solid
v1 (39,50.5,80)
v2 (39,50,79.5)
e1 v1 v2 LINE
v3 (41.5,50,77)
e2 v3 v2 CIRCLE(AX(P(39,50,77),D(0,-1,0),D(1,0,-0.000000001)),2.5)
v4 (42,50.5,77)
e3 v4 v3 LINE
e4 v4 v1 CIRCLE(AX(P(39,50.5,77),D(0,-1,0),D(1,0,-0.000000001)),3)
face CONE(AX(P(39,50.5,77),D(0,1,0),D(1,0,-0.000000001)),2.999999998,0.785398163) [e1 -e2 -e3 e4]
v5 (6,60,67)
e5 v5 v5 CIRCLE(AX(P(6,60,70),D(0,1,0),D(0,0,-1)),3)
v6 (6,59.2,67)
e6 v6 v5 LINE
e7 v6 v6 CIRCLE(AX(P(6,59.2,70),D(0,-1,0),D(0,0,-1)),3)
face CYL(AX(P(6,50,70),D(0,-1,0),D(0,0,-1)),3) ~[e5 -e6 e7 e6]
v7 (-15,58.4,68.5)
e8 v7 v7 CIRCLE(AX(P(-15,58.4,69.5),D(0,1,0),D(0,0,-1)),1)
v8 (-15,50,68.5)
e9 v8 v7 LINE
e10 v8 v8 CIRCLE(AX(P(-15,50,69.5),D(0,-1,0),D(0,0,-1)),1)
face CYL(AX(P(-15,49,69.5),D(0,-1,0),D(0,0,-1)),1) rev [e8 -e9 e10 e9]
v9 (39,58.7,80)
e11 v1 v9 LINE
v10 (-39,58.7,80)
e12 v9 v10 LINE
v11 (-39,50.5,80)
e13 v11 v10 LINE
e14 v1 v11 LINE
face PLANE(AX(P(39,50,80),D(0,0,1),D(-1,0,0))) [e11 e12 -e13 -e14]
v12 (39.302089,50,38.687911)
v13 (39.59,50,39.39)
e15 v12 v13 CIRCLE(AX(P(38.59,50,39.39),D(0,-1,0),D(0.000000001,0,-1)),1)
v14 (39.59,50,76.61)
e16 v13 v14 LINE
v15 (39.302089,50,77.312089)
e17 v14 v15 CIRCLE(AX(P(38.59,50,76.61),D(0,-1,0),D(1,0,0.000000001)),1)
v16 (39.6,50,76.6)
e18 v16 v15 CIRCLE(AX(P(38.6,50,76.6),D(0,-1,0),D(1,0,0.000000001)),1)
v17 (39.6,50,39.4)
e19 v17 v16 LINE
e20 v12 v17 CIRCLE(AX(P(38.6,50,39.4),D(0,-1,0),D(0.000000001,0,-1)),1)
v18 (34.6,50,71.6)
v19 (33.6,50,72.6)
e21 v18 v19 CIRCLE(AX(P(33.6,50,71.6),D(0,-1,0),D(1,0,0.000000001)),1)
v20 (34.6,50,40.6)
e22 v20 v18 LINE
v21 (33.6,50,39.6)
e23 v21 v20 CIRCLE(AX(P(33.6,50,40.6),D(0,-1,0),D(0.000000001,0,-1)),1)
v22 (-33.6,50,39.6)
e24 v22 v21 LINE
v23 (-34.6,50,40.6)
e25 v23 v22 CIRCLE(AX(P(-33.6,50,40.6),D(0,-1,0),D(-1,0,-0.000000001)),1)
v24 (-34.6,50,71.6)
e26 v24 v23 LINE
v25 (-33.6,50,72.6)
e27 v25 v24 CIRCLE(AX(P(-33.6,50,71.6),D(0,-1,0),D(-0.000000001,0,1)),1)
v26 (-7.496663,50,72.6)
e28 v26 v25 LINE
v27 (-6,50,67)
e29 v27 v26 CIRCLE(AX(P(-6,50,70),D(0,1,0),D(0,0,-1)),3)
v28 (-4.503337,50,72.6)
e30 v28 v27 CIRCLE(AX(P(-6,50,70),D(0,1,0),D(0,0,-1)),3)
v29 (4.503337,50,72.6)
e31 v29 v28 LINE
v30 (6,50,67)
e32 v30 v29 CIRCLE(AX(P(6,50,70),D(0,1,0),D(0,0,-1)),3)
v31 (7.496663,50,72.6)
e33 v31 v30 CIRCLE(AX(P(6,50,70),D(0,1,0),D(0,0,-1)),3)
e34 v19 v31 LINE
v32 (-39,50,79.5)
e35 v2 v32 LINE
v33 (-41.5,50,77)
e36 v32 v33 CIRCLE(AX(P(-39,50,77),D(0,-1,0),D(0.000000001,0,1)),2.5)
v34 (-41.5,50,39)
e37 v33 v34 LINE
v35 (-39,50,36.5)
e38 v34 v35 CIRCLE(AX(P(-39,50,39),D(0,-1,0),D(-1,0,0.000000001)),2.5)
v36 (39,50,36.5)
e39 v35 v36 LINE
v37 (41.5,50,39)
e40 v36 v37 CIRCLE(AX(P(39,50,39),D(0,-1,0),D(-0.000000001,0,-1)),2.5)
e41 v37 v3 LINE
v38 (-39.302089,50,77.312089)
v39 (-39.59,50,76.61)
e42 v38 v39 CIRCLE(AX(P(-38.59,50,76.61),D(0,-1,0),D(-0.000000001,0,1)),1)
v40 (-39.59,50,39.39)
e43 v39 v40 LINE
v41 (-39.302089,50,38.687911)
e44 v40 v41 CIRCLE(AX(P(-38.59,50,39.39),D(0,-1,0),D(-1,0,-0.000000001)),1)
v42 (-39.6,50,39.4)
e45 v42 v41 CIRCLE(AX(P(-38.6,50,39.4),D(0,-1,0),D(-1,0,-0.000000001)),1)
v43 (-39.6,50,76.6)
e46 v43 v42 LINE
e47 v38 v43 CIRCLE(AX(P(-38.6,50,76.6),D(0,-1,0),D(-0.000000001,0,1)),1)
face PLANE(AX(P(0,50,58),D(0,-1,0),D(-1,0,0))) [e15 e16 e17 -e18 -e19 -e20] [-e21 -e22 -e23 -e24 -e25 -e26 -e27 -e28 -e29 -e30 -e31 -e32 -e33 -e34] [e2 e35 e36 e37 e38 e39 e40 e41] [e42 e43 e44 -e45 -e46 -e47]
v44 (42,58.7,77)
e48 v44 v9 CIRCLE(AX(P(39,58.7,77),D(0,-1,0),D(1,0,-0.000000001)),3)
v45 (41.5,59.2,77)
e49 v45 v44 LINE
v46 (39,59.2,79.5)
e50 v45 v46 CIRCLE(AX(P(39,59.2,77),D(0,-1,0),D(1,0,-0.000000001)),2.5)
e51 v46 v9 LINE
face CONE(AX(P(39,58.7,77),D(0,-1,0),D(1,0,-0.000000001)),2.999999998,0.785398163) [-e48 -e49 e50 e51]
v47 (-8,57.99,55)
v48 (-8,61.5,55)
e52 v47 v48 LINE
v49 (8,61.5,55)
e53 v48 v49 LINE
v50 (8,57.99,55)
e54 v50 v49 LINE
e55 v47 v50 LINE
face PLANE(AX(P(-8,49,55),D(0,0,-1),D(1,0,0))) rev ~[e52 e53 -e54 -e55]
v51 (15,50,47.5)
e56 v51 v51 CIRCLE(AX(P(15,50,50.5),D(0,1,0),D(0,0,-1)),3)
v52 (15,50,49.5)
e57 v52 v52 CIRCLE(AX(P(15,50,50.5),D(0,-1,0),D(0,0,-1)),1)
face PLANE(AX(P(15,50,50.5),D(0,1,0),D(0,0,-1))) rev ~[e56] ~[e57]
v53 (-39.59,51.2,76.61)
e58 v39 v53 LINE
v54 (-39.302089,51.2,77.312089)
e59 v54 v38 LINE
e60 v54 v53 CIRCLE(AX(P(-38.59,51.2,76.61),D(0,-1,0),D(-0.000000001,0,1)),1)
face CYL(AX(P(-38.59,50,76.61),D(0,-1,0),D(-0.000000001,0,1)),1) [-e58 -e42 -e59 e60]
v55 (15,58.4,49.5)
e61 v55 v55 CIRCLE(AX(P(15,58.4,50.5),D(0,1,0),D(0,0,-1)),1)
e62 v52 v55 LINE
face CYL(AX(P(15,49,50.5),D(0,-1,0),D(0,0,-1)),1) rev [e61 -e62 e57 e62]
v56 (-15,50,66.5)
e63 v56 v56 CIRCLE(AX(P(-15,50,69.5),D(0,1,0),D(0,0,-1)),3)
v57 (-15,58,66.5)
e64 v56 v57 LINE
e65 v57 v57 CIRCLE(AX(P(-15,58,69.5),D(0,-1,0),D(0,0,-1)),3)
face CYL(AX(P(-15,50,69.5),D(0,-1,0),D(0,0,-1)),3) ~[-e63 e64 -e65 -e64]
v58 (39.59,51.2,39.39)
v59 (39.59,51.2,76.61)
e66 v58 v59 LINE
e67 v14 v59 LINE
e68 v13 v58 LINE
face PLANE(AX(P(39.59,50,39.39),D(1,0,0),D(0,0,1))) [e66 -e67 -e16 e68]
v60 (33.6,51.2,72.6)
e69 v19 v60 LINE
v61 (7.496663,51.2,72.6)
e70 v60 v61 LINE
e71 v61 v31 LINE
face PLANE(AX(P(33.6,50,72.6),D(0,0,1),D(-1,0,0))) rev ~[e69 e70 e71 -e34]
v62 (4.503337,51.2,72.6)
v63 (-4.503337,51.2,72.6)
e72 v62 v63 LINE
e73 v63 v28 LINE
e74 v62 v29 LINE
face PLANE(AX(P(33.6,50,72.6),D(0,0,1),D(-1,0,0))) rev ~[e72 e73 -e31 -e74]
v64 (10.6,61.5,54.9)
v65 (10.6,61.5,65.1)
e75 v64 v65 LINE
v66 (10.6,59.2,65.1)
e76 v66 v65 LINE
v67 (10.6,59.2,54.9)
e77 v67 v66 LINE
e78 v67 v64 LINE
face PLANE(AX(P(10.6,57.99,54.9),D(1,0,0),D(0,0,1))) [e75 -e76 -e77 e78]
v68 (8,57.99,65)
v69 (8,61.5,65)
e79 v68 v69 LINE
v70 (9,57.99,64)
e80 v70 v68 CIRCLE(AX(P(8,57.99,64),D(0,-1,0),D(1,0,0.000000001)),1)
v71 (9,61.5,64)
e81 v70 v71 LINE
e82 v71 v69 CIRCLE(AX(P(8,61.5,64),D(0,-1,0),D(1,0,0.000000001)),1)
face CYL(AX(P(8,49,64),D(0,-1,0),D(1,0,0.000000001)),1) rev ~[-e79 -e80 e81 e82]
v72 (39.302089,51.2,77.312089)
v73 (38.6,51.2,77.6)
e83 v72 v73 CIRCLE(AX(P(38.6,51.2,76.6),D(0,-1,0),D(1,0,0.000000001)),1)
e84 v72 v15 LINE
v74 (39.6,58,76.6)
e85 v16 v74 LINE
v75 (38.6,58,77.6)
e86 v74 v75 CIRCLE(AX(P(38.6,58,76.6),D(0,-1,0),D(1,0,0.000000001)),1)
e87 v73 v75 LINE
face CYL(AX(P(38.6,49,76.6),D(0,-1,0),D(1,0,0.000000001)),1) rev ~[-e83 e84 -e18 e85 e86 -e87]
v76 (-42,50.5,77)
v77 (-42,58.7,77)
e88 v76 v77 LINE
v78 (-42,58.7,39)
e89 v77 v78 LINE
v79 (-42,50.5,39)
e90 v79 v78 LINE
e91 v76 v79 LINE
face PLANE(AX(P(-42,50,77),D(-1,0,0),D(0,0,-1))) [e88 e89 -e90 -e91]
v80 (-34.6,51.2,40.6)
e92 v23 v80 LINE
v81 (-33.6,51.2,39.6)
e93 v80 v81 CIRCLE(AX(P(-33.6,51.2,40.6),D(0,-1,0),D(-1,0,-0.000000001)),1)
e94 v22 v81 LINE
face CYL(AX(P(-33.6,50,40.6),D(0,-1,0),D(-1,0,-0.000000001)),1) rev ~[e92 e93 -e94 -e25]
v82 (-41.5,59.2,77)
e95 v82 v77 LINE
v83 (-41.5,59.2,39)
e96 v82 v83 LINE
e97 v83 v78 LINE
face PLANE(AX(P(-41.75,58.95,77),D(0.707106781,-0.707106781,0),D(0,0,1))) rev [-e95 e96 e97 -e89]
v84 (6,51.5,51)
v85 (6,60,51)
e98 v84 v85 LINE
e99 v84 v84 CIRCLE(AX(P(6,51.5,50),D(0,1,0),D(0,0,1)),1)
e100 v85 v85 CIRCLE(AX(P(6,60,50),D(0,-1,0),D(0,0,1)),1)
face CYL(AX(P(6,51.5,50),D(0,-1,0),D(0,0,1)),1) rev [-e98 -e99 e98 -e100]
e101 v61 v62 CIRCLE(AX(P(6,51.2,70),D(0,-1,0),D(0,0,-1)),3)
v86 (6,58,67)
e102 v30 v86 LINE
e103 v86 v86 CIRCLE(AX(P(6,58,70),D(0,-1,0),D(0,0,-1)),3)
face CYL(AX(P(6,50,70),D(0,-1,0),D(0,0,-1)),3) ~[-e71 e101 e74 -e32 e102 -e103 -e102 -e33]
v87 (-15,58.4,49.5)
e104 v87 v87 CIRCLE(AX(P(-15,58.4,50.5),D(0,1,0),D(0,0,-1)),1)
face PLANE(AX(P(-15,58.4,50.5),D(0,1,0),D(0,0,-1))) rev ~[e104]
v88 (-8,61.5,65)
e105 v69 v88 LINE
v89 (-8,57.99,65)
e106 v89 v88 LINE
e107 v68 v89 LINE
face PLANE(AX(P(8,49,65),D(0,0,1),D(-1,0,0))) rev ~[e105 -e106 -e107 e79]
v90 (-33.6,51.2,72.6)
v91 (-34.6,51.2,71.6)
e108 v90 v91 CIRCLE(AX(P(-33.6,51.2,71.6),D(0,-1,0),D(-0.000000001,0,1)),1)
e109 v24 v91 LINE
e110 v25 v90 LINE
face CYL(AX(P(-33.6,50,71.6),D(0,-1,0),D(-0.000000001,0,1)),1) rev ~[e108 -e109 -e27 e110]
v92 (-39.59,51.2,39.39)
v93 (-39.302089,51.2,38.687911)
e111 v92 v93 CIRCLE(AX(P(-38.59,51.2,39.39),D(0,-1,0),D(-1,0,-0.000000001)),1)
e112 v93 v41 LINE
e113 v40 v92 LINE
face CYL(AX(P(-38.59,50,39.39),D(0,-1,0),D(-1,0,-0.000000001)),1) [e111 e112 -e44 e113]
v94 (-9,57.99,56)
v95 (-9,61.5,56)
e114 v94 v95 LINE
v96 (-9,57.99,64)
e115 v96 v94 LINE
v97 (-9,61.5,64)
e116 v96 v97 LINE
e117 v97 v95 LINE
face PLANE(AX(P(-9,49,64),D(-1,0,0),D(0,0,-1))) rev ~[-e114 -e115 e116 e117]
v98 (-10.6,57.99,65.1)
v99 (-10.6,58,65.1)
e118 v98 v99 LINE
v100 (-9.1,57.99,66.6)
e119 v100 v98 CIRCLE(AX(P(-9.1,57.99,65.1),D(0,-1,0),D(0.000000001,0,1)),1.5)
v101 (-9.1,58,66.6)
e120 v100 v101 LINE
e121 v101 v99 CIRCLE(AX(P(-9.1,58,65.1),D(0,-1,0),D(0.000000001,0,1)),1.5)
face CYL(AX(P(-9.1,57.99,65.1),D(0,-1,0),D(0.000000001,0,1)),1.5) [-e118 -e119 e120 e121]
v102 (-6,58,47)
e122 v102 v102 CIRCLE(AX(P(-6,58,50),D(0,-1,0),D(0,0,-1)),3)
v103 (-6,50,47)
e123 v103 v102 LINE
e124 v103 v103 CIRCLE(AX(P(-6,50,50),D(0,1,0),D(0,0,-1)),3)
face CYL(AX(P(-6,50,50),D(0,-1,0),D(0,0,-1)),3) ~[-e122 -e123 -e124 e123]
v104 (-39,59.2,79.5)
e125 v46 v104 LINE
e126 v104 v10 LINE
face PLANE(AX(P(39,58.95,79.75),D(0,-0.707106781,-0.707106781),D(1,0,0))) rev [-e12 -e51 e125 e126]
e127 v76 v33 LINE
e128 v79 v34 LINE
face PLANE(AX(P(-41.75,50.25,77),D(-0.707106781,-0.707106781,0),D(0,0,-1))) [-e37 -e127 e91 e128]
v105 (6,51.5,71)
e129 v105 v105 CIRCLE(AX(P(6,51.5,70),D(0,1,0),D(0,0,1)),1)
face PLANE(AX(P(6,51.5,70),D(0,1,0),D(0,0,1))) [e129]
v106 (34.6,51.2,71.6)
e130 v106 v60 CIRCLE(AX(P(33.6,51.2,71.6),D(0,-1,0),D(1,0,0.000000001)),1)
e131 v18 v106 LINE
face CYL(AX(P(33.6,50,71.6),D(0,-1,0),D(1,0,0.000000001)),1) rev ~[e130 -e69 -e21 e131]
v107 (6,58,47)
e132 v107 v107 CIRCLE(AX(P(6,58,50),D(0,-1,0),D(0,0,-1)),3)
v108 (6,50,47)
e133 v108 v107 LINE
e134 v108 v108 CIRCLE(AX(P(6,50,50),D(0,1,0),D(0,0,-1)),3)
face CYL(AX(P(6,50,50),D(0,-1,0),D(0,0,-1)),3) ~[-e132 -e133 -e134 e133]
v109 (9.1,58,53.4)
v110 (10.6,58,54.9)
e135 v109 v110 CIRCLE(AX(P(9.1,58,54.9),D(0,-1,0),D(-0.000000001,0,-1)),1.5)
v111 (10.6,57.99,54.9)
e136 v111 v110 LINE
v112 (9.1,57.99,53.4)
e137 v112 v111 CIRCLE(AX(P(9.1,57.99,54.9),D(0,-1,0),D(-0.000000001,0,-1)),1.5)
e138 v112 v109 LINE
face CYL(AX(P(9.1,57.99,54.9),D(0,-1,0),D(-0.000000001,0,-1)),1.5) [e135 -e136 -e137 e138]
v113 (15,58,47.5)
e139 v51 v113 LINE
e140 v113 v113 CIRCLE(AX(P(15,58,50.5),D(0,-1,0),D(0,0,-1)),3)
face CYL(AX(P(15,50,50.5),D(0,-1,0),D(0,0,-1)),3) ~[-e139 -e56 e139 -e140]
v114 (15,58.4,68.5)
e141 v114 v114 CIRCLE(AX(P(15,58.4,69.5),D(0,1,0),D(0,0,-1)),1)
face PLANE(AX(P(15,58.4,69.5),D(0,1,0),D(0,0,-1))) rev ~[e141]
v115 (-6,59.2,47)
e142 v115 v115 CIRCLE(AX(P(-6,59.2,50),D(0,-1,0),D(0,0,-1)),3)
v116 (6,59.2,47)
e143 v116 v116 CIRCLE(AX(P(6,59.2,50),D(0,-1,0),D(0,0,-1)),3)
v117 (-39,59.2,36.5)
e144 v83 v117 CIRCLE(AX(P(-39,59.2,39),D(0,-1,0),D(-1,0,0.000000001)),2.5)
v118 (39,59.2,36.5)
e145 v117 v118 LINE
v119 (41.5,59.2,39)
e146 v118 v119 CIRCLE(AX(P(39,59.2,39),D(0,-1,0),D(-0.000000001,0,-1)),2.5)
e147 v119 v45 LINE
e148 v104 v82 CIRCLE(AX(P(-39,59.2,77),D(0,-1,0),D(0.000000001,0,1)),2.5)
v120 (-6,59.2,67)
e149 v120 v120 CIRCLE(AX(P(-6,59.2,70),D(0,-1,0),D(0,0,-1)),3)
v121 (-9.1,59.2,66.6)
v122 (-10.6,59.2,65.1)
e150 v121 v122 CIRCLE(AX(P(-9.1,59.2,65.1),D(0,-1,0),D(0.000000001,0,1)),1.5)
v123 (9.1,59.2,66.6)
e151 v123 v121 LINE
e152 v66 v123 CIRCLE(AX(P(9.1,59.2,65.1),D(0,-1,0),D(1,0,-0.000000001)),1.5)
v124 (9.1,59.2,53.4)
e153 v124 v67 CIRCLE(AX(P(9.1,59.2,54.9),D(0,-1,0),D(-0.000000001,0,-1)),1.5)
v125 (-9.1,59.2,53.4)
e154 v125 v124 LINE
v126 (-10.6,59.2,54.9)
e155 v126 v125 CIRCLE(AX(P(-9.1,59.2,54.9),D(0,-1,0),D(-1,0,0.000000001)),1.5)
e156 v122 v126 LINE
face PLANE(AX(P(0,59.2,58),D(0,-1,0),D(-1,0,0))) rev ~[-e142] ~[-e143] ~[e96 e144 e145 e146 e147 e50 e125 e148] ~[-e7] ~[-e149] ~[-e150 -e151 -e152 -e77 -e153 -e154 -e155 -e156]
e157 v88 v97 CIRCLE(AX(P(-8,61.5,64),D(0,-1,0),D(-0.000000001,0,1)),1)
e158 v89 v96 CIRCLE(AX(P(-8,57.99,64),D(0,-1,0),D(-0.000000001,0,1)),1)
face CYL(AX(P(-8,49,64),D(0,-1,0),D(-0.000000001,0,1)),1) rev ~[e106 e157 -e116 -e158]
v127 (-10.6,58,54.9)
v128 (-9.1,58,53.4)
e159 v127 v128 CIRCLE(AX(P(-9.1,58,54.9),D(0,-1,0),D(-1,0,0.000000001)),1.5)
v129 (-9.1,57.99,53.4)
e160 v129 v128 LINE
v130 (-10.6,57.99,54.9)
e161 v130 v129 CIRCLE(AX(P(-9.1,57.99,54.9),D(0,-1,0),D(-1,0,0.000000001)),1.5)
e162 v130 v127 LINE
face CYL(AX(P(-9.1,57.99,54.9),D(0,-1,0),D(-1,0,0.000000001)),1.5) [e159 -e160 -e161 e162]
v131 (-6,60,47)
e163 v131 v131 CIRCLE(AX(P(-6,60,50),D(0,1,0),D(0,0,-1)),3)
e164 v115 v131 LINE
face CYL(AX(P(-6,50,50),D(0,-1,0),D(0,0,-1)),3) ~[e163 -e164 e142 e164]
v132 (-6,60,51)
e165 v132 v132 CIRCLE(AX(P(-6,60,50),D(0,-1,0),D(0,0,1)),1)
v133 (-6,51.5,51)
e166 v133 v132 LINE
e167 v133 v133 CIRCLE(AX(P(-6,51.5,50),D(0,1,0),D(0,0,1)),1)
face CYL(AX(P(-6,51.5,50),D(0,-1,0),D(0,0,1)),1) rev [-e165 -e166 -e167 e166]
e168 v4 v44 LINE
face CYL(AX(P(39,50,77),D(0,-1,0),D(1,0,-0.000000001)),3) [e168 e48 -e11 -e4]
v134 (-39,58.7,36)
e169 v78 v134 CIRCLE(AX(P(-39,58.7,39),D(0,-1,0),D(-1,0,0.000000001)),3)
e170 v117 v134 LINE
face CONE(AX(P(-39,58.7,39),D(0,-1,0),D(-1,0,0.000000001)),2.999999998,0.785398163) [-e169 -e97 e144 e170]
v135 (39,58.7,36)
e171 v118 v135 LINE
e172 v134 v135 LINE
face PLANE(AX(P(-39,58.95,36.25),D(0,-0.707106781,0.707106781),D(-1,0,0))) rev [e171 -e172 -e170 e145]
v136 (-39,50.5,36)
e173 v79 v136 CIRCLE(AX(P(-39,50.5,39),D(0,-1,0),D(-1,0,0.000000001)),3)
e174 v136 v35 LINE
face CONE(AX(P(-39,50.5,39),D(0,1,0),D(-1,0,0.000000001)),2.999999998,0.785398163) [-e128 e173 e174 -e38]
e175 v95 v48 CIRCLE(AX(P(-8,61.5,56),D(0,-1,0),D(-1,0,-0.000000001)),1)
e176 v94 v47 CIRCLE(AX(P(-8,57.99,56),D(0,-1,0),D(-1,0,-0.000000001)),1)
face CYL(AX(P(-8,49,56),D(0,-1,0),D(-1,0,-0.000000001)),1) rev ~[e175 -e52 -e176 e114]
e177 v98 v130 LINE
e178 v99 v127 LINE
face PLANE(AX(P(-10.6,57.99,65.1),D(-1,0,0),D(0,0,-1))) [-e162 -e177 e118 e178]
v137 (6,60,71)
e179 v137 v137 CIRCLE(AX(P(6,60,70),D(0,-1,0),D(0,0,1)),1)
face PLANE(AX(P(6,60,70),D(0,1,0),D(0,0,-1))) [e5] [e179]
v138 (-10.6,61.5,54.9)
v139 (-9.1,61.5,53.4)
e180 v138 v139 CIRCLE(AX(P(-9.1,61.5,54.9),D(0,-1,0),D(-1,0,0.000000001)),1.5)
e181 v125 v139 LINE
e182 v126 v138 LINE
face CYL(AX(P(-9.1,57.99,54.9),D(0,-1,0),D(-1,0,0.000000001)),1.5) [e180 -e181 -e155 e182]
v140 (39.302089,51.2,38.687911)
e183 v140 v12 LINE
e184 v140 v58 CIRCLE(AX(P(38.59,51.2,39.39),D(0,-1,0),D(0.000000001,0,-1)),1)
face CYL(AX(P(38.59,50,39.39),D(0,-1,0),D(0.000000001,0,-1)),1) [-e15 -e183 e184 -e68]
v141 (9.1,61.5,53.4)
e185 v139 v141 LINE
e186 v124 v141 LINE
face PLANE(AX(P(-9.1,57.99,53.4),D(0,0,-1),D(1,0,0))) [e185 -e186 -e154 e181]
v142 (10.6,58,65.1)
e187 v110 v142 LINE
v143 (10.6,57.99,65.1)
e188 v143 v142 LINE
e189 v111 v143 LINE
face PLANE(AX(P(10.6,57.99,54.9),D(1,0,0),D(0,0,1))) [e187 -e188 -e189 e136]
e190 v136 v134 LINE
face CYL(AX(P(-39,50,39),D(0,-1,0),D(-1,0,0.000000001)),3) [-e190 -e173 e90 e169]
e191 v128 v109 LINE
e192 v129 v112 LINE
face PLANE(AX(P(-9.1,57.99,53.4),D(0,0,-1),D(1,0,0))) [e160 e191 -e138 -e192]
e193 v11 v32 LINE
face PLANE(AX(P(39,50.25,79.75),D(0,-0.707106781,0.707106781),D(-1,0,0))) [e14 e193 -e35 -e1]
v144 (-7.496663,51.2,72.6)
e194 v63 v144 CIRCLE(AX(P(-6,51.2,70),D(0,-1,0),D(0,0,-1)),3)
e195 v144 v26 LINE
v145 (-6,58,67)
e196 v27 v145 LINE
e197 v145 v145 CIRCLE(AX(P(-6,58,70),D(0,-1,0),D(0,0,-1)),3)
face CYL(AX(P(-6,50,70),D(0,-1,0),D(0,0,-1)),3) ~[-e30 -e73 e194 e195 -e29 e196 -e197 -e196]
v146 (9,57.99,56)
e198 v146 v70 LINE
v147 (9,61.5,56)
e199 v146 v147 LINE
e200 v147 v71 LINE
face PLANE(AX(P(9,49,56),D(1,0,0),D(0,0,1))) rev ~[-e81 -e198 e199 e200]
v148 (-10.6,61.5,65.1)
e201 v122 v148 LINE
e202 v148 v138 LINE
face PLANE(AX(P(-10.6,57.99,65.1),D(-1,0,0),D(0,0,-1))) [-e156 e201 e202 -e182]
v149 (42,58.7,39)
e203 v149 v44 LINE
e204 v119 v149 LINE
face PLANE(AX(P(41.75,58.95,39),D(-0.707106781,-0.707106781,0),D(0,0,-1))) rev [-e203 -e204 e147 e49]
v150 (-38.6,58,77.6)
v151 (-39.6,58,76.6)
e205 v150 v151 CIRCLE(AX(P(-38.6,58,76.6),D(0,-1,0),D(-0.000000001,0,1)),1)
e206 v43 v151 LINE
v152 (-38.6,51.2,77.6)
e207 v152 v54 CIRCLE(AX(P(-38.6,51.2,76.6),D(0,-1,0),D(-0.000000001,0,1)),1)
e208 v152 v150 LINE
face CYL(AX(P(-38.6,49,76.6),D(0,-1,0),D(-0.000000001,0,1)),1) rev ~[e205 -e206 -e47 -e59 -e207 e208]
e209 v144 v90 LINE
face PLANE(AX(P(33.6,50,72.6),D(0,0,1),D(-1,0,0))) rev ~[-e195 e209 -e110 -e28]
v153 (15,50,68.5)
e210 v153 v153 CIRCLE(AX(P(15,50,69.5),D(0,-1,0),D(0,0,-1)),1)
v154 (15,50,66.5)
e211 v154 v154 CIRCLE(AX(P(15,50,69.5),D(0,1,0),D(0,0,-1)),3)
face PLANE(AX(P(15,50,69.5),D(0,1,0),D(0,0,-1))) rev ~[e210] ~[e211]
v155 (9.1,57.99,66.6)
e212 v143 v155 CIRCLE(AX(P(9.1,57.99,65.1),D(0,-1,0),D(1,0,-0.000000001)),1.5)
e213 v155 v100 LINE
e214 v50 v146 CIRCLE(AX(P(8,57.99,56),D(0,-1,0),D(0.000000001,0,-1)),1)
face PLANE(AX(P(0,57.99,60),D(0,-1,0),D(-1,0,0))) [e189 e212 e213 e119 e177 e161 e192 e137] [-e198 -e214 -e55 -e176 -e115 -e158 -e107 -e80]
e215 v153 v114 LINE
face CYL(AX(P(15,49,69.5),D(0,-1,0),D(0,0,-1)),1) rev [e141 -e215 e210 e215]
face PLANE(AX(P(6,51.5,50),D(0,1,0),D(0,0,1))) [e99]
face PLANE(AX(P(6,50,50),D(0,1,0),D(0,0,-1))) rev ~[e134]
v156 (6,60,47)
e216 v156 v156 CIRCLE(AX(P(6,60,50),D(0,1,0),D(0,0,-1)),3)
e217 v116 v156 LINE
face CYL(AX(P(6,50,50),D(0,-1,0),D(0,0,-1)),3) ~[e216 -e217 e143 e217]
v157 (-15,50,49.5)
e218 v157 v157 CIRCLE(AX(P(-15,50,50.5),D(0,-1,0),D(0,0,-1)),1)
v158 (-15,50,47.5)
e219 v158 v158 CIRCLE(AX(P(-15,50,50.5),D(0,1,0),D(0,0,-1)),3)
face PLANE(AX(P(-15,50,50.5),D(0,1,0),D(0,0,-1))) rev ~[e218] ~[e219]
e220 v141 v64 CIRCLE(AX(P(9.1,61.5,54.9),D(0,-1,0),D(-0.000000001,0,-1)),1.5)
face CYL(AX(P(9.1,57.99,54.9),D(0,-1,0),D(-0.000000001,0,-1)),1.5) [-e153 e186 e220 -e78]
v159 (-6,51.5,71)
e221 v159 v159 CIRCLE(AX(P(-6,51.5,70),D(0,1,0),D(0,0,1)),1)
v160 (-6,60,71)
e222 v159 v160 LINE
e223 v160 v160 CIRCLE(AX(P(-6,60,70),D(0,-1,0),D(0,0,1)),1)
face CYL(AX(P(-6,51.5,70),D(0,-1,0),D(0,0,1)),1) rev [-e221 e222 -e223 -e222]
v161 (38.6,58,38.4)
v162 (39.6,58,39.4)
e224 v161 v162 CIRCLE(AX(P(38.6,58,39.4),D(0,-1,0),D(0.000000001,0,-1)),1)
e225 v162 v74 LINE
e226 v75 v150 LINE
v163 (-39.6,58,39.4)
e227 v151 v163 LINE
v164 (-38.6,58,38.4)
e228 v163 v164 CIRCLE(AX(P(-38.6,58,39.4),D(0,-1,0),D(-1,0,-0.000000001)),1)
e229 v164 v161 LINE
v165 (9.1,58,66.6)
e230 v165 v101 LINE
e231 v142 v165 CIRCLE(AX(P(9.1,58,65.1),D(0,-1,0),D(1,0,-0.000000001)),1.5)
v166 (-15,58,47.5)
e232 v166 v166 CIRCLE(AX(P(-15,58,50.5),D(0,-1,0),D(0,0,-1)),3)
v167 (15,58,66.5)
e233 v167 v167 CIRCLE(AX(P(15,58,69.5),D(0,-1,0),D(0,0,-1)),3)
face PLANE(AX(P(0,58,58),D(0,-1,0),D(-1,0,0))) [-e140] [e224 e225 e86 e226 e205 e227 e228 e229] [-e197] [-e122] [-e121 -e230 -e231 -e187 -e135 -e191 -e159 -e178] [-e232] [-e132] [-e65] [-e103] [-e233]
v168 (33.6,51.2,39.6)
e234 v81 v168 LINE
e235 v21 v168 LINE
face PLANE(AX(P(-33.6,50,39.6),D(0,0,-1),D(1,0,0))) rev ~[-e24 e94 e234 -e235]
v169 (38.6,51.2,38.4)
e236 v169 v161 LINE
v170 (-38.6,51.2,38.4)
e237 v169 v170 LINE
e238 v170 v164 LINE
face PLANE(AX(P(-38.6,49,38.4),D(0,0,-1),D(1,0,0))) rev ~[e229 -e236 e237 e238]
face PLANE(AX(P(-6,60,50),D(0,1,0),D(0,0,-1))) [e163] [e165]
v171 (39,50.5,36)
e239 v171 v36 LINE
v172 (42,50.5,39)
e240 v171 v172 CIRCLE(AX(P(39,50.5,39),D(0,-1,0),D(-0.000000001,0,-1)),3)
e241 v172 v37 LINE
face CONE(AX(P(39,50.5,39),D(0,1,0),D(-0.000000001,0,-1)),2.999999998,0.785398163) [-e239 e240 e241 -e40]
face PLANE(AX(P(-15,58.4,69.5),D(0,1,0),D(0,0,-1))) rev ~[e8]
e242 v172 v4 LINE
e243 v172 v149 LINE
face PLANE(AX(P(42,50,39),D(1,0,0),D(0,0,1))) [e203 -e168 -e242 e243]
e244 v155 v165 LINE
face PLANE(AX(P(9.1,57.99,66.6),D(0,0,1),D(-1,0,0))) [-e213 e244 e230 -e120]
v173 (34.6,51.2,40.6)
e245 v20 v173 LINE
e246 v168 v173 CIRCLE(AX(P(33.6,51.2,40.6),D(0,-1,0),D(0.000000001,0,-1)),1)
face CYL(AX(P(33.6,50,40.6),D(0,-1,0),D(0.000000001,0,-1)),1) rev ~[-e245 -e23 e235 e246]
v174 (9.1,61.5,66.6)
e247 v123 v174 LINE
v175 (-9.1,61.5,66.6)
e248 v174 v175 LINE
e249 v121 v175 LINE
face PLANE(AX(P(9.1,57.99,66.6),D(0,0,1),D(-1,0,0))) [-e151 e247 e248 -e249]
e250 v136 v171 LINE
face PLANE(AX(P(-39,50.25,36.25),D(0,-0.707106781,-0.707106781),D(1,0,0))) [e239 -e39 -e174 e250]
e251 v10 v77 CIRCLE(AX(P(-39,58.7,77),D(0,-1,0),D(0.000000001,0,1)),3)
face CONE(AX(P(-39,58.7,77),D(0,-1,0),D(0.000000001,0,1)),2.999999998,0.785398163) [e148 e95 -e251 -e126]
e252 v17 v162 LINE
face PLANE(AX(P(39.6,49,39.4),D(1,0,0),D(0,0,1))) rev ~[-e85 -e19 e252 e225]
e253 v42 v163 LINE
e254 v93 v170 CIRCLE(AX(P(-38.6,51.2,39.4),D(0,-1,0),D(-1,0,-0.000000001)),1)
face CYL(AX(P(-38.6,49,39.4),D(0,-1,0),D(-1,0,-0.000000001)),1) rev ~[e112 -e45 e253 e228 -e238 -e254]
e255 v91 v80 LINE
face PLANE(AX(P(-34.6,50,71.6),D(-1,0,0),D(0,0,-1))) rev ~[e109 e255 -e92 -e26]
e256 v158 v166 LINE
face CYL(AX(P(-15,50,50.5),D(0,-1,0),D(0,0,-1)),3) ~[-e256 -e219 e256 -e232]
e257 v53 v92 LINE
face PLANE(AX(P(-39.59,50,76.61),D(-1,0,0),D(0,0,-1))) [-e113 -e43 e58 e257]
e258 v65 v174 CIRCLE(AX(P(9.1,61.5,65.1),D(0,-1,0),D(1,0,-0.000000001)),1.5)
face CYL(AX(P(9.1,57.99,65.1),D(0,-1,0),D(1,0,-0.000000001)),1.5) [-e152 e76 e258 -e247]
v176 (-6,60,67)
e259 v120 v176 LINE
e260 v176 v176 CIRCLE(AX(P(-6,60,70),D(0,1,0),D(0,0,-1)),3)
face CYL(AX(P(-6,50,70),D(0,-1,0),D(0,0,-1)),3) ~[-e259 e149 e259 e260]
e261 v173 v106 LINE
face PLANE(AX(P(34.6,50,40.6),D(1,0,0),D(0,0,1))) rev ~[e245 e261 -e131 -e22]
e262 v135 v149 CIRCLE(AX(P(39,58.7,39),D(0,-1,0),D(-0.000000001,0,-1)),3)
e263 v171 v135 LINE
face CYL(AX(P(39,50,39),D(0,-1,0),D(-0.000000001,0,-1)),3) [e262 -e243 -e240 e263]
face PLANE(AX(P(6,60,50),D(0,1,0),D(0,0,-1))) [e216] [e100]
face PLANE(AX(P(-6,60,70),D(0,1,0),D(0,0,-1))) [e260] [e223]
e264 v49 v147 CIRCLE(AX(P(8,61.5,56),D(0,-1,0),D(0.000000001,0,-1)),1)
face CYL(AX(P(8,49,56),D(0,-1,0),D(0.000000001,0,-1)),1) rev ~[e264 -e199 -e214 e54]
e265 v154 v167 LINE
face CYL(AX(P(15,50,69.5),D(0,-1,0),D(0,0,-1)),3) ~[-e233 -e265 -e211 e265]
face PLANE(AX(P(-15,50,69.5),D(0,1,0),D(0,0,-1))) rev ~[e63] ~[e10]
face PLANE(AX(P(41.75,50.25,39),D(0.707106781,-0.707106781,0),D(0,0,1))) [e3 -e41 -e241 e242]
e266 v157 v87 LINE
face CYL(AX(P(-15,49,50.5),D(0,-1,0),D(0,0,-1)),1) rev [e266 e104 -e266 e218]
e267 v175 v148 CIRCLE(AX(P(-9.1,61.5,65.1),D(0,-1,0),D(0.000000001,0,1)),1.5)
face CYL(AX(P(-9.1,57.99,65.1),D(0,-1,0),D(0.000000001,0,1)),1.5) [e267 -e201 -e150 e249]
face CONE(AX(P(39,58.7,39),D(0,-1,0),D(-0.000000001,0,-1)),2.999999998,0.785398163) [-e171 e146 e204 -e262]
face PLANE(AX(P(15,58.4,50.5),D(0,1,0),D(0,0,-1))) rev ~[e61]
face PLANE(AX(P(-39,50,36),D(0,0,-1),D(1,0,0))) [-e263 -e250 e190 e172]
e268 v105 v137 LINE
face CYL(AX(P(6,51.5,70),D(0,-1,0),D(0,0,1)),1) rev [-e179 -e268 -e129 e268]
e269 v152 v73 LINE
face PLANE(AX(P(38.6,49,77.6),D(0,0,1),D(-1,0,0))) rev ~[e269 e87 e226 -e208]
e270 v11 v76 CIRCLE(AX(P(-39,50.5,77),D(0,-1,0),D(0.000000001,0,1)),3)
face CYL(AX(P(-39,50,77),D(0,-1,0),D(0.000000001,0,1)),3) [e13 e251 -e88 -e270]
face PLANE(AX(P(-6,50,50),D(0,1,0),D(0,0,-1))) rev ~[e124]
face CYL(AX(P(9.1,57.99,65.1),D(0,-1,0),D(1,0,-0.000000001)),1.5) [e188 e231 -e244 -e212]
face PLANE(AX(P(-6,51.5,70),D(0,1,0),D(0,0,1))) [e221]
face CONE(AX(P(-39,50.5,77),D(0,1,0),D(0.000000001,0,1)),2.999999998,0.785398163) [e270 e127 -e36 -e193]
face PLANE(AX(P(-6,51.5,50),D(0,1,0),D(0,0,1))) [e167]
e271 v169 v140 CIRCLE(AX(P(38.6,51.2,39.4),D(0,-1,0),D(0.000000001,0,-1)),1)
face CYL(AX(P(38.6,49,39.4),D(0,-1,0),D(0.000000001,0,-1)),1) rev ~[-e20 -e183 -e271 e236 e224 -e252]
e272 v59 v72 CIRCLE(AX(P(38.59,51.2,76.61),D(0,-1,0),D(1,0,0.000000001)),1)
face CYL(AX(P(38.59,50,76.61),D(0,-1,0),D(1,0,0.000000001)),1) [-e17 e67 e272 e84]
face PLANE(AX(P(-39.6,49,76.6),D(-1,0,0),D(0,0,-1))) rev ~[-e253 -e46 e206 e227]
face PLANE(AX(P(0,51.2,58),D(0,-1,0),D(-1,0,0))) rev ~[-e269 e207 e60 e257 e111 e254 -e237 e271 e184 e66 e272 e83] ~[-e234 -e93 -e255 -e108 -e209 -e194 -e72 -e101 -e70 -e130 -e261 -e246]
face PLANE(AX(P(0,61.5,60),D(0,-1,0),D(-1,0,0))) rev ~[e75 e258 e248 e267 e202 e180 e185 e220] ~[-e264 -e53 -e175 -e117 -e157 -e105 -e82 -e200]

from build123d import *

# Parameters (mm, degrees)
BOSS_EXTRUDE1_START  = 50
BOSS_EXTRUDE1_DEPTH  = 9.2
CHAMFER1_SIZE        = 0.5
CHAMFER2_SIZE        = 0.5
BOSS_EXTRUDE2_START  = 49
BOSS_EXTRUDE2_DEPTH  = 9
BOSS_EXTRUDE3_START  = 50
SKETCH3_R            = 3
BOSS_EXTRUDE3_DEPTH  = 8.01
BOSS_EXTRUDE4_START  = 49
SKETCH4_R            = 1
BOSS_EXTRUDE4_DEPTH  = 9.4
BOSS_EXTRUDE5_START  = 50
SKETCH5_R            = 3
BOSS_EXTRUDE5_DEPTH  = 8.01
BOSS_EXTRUDE6_START  = 49
SKETCH6_R            = 1
BOSS_EXTRUDE6_DEPTH  = 9.4
BOSS_EXTRUDE7_START  = 50
SKETCH7_R            = 3
BOSS_EXTRUDE7_DEPTH  = 8.01
BOSS_EXTRUDE8_START  = 49
SKETCH8_R            = 1
BOSS_EXTRUDE8_DEPTH  = 9.4
BOSS_EXTRUDE9_START  = 50
SKETCH9_R            = 3
BOSS_EXTRUDE9_DEPTH  = 8.01
BOSS_EXTRUDE10_START = 49
SKETCH10_R           = 1
BOSS_EXTRUDE10_DEPTH = 9.4
BOSS_EXTRUDE11_START = 50
SKETCH11_R           = 3
BOSS_EXTRUDE11_DEPTH = 10
BOSS_EXTRUDE12_START = 51.5
SKETCH12_R           = 1
BOSS_EXTRUDE12_DEPTH = 9.5
BOSS_EXTRUDE13_START = 50
SKETCH13_R           = 3
BOSS_EXTRUDE13_DEPTH = 10
BOSS_EXTRUDE14_START = 51.5
SKETCH14_R           = 1
BOSS_EXTRUDE14_DEPTH = 9.5
BOSS_EXTRUDE15_START = 50
SKETCH15_R           = 3
BOSS_EXTRUDE15_DEPTH = 10
BOSS_EXTRUDE16_START = 51.5
SKETCH16_R           = 1
BOSS_EXTRUDE16_DEPTH = 9.5
BOSS_EXTRUDE17_START = 50
SKETCH17_R           = 3
BOSS_EXTRUDE17_DEPTH = 10
BOSS_EXTRUDE18_START = 51.5
SKETCH18_R           = 1
BOSS_EXTRUDE18_DEPTH = 9.5
BOSS_EXTRUDE19_START = 50
BOSS_EXTRUDE19_DEPTH = 1.2
BOSS_EXTRUDE20_START = 57.99
BOSS_EXTRUDE20_DEPTH = 3.51
BOSS_EXTRUDE21_START = 49
BOSS_EXTRUDE21_DEPTH = 13


with BuildPart() as part:
    # Sketch1 → Boss-Extrude1 (new body)
    with BuildSketch(Plane(origin=(0, 0, 0), x_dir=(1, 0, 0), z_dir=(0, 1, 0)).offset(BOSS_EXTRUDE1_START)):
        with BuildLine():
            Line((-39, -36), (39, -36))
            ThreePointArc((39, -36), (41.121320344, -36.878679656), (42, -39))
            Line((42, -39), (42, -77))
            ThreePointArc((42, -77), (41.121320344, -79.121320344), (39, -80))
            Line((39, -80), (-39, -80))
            ThreePointArc((-39, -80), (-41.121320344, -79.121320344), (-42, -77))
            Line((-42, -77), (-42, -39))
            ThreePointArc((-42, -39), (-41.121320344, -36.878679656), (-39, -36))
        make_face()
    extrude(amount=BOSS_EXTRUDE1_DEPTH)

    # Chamfer1
    chamfer1_edges = [part.edges().sort_by_distance(p)[0] for p in [
        (0, 50, 36),
        (-41.121320344, 50, 36.878679656),
        (41.121320344, 50, 36.878679656),
        (-42, 50, 58),
        (42, 50, 58),
        (-41.121320344, 50, 79.121320344),
        (41.121320344, 50, 79.121320344),
        (0, 50, 80),
    ]]
    chamfer(chamfer1_edges, length=CHAMFER1_SIZE)

    # Chamfer2
    chamfer2_edges = [part.edges().sort_by_distance(p)[0] for p in [
        (0, 59.2, 36),
        (-41.121320344, 59.2, 36.878679656),
        (41.121320344, 59.2, 36.878679656),
        (-42, 59.2, 58),
        (42, 59.2, 58),
        (-41.121320344, 59.2, 79.121320344),
        (41.121320344, 59.2, 79.121320344),
        (0, 59.2, 80),
    ]]
    chamfer(chamfer2_edges, length=CHAMFER2_SIZE)


with BuildPart() as body_2:
    # Sketch2 → Boss-Extrude2 (new body)
    with BuildSketch(Plane(origin=(0, 0, 0), x_dir=(1, 0, 0), z_dir=(0, 1, 0)).offset(BOSS_EXTRUDE2_START)):
        with BuildLine():
            Line((-38.6, -38.4), (38.6, -38.4))
            ThreePointArc((38.6, -38.4), (39.307106781, -38.692893219), (39.6, -39.4))
            Line((39.6, -39.4), (39.6, -76.6))
            ThreePointArc((39.6, -76.6), (39.307106781, -77.307106781), (38.6, -77.6))
            Line((38.6, -77.6), (-38.6, -77.6))
            ThreePointArc((-38.6, -77.6), (-39.307106781, -77.307106781), (-39.6, -76.6))
            Line((-39.6, -76.6), (-39.6, -39.4))
            ThreePointArc((-39.6, -39.4), (-39.307106781, -38.692893219), (-38.6, -38.4))
        make_face()
    extrude(amount=BOSS_EXTRUDE2_DEPTH)


with BuildPart() as part_1:
    add(part.part)

    # Combine1: cut body 2
    add(body_2.part, mode=Mode.SUBTRACT)

    # Sketch3 → Boss-Extrude3 (add)
    with BuildSketch(Plane(origin=(0, 0, 0), x_dir=(1, 0, 0), z_dir=(0, 1, 0)).offset(BOSS_EXTRUDE3_START)):
        with Locations((-15, -50.5)):
            Circle(SKETCH3_R)
    extrude(amount=BOSS_EXTRUDE3_DEPTH)


with BuildPart() as body_2_2:
    # Sketch4 → Boss-Extrude4 (new body)
    with BuildSketch(Plane(origin=(0, 0, 0), x_dir=(1, 0, 0), z_dir=(0, 1, 0)).offset(BOSS_EXTRUDE4_START)):
        with Locations((-15, -50.5)):
            Circle(SKETCH4_R)
    extrude(amount=BOSS_EXTRUDE4_DEPTH)


with BuildPart() as part_2:
    add(part_1.part)

    # Combine2: cut body 2 2
    add(body_2_2.part, mode=Mode.SUBTRACT)

    # Sketch5 → Boss-Extrude5 (add)
    with BuildSketch(Plane(origin=(0, 0, 0), x_dir=(1, 0, 0), z_dir=(0, 1, 0)).offset(BOSS_EXTRUDE5_START)):
        with Locations((-15, -69.5)):
            Circle(SKETCH5_R)
    extrude(amount=BOSS_EXTRUDE5_DEPTH)


with BuildPart() as body_2_3:
    # Sketch6 → Boss-Extrude6 (new body)
    with BuildSketch(Plane(origin=(0, 0, 0), x_dir=(1, 0, 0), z_dir=(0, 1, 0)).offset(BOSS_EXTRUDE6_START)):
        with Locations((-15, -69.5)):
            Circle(SKETCH6_R)
    extrude(amount=BOSS_EXTRUDE6_DEPTH)


with BuildPart() as part_3:
    add(part_2.part)

    # Combine3: cut body 2 3
    add(body_2_3.part, mode=Mode.SUBTRACT)

    # Sketch7 → Boss-Extrude7 (add)
    with BuildSketch(Plane(origin=(0, 0, 0), x_dir=(1, 0, 0), z_dir=(0, 1, 0)).offset(BOSS_EXTRUDE7_START)):
        with Locations((15, -50.5)):
            Circle(SKETCH7_R)
    extrude(amount=BOSS_EXTRUDE7_DEPTH)


with BuildPart() as body_2_4:
    # Sketch8 → Boss-Extrude8 (new body)
    with BuildSketch(Plane(origin=(0, 0, 0), x_dir=(1, 0, 0), z_dir=(0, 1, 0)).offset(BOSS_EXTRUDE8_START)):
        with Locations((15, -50.5)):
            Circle(SKETCH8_R)
    extrude(amount=BOSS_EXTRUDE8_DEPTH)


with BuildPart() as part_4:
    add(part_3.part)

    # Combine4: cut body 2 4
    add(body_2_4.part, mode=Mode.SUBTRACT)

    # Sketch9 → Boss-Extrude9 (add)
    with BuildSketch(Plane(origin=(0, 0, 0), x_dir=(1, 0, 0), z_dir=(0, 1, 0)).offset(BOSS_EXTRUDE9_START)):
        with Locations((15, -69.5)):
            Circle(SKETCH9_R)
    extrude(amount=BOSS_EXTRUDE9_DEPTH)


with BuildPart() as body_2_5:
    # Sketch10 → Boss-Extrude10 (new body)
    with BuildSketch(Plane(origin=(0, 0, 0), x_dir=(1, 0, 0), z_dir=(0, 1, 0)).offset(BOSS_EXTRUDE10_START)):
        with Locations((15, -69.5)):
            Circle(SKETCH10_R)
    extrude(amount=BOSS_EXTRUDE10_DEPTH)


with BuildPart() as part_5:
    add(part_4.part)

    # Combine5: cut body 2 5
    add(body_2_5.part, mode=Mode.SUBTRACT)

    # Sketch11 → Boss-Extrude11 (add)
    with BuildSketch(Plane(origin=(0, 0, 0), x_dir=(1, 0, 0), z_dir=(0, 1, 0)).offset(BOSS_EXTRUDE11_START)):
        with Locations((-6, -50)):
            Circle(SKETCH11_R)
    extrude(amount=BOSS_EXTRUDE11_DEPTH)


with BuildPart() as body_2_6:
    # Sketch12 → Boss-Extrude12 (new body)
    with BuildSketch(Plane(origin=(0, 0, 0), x_dir=(1, 0, 0), z_dir=(0, 1, 0)).offset(BOSS_EXTRUDE12_START)):
        with Locations((-6, -50)):
            Circle(SKETCH12_R)
    extrude(amount=BOSS_EXTRUDE12_DEPTH)


with BuildPart() as part_6:
    add(part_5.part)

    # Combine6: cut body 2 6
    add(body_2_6.part, mode=Mode.SUBTRACT)

    # Sketch13 → Boss-Extrude13 (add)
    with BuildSketch(Plane(origin=(0, 0, 0), x_dir=(1, 0, 0), z_dir=(0, 1, 0)).offset(BOSS_EXTRUDE13_START)):
        with Locations((-6, -70)):
            Circle(SKETCH13_R)
    extrude(amount=BOSS_EXTRUDE13_DEPTH)


with BuildPart() as body_2_7:
    # Sketch14 → Boss-Extrude14 (new body)
    with BuildSketch(Plane(origin=(0, 0, 0), x_dir=(1, 0, 0), z_dir=(0, 1, 0)).offset(BOSS_EXTRUDE14_START)):
        with Locations((-6, -70)):
            Circle(SKETCH14_R)
    extrude(amount=BOSS_EXTRUDE14_DEPTH)


with BuildPart() as part_7:
    add(part_6.part)

    # Combine7: cut body 2 7
    add(body_2_7.part, mode=Mode.SUBTRACT)

    # Sketch15 → Boss-Extrude15 (add)
    with BuildSketch(Plane(origin=(0, 0, 0), x_dir=(1, 0, 0), z_dir=(0, 1, 0)).offset(BOSS_EXTRUDE15_START)):
        with Locations((6, -50)):
            Circle(SKETCH15_R)
    extrude(amount=BOSS_EXTRUDE15_DEPTH)


with BuildPart() as body_2_8:
    # Sketch16 → Boss-Extrude16 (new body)
    with BuildSketch(Plane(origin=(0, 0, 0), x_dir=(1, 0, 0), z_dir=(0, 1, 0)).offset(BOSS_EXTRUDE16_START)):
        with Locations((6, -50)):
            Circle(SKETCH16_R)
    extrude(amount=BOSS_EXTRUDE16_DEPTH)


with BuildPart() as part_8:
    add(part_7.part)

    # Combine8: cut body 2 8
    add(body_2_8.part, mode=Mode.SUBTRACT)

    # Sketch17 → Boss-Extrude17 (add)
    with BuildSketch(Plane(origin=(0, 0, 0), x_dir=(1, 0, 0), z_dir=(0, 1, 0)).offset(BOSS_EXTRUDE17_START)):
        with Locations((6, -70)):
            Circle(SKETCH17_R)
    extrude(amount=BOSS_EXTRUDE17_DEPTH)


with BuildPart() as body_2_9:
    # Sketch18 → Boss-Extrude18 (new body)
    with BuildSketch(Plane(origin=(0, 0, 0), x_dir=(1, 0, 0), z_dir=(0, 1, 0)).offset(BOSS_EXTRUDE18_START)):
        with Locations((6, -70)):
            Circle(SKETCH18_R)
    extrude(amount=BOSS_EXTRUDE18_DEPTH)


with BuildPart() as part_9:
    add(part_8.part)

    # Combine9: cut body 2 9
    add(body_2_9.part, mode=Mode.SUBTRACT)

    # Sketch19 → Boss-Extrude19 (add)
    with BuildSketch(Plane(origin=(0, 0, 0), x_dir=(1, 0, 0), z_dir=(0, 1, 0)).offset(BOSS_EXTRUDE19_START)):
        with BuildLine():
            Line((-38.59, -38.39), (38.59, -38.39))
            ThreePointArc((38.59, -38.39), (39.297106781, -38.682893219), (39.59, -39.39))
            Line((39.59, -39.39), (39.59, -76.61))
            ThreePointArc((39.59, -76.61), (39.297106781, -77.317106781), (38.59, -77.61))
            Line((38.59, -77.61), (-38.59, -77.61))
            ThreePointArc((-38.59, -77.61), (-39.297106781, -77.317106781), (-39.59, -76.61))
            Line((-39.59, -76.61), (-39.59, -39.39))
            ThreePointArc((-39.59, -39.39), (-39.297106781, -38.682893219), (-38.59, -38.39))
        make_face()
        with BuildLine():
            Line((-33.6, -39.6), (33.6, -39.6))
            ThreePointArc((33.6, -39.6), (34.307106781, -39.892893219), (34.6, -40.6))
            Line((34.6, -40.6), (34.6, -71.6))
            ThreePointArc((34.6, -71.6), (34.307106781, -72.307106781), (33.6, -72.6))
            Line((33.6, -72.6), (-33.6, -72.6))
            ThreePointArc((-33.6, -72.6), (-34.307106781, -72.307106781), (-34.6, -71.6))
            Line((-34.6, -71.6), (-34.6, -40.6))
            ThreePointArc((-34.6, -40.6), (-34.307106781, -39.892893219), (-33.6, -39.6))
        make_face(mode=Mode.SUBTRACT)
    extrude(amount=BOSS_EXTRUDE19_DEPTH)

    # Sketch20 → Boss-Extrude20 (add)
    with BuildSketch(Plane(origin=(0, 0, 0), x_dir=(1, 0, 0), z_dir=(0, 1, 0)).offset(BOSS_EXTRUDE20_START)):
        with BuildLine():
            Line((-9.1, -53.4), (9.1, -53.4))
            ThreePointArc((9.1, -53.4), (10.160660172, -53.839339828), (10.6, -54.9))
            Line((10.6, -54.9), (10.6, -65.1))
            ThreePointArc((10.6, -65.1), (10.160660172, -66.160660172), (9.1, -66.6))
            Line((9.1, -66.6), (-9.1, -66.6))
            ThreePointArc((-9.1, -66.6), (-10.160660172, -66.160660172), (-10.6, -65.1))
            Line((-10.6, -65.1), (-10.6, -54.9))
            ThreePointArc((-10.6, -54.9), (-10.160660172, -53.839339828), (-9.1, -53.4))
        make_face()
    extrude(amount=BOSS_EXTRUDE20_DEPTH)


with BuildPart() as body_2_10:
    # Sketch21 → Boss-Extrude21 (new body)
    with BuildSketch(Plane(origin=(0, 0, 0), x_dir=(1, 0, 0), z_dir=(0, 1, 0)).offset(BOSS_EXTRUDE21_START)):
        with BuildLine():
            Line((-8, -55), (8, -55))
            ThreePointArc((8, -55), (8.707106781, -55.292893219), (9, -56))
            Line((9, -56), (9, -64))
            ThreePointArc((9, -64), (8.707106781, -64.707106781), (8, -65))
            Line((8, -65), (-8, -65))
            ThreePointArc((-8, -65), (-8.707106781, -64.707106781), (-9, -64))
            Line((-9, -64), (-9, -56))
            ThreePointArc((-9, -56), (-8.707106781, -55.292893219), (-8, -55))
        make_face()
    extrude(amount=BOSS_EXTRUDE21_DEPTH)


with BuildPart() as part_10:
    add(part_9.part)

    # Combine10: cut body 2 10
    add(body_2_10.part, mode=Mode.SUBTRACT)


solid = part_10.part
